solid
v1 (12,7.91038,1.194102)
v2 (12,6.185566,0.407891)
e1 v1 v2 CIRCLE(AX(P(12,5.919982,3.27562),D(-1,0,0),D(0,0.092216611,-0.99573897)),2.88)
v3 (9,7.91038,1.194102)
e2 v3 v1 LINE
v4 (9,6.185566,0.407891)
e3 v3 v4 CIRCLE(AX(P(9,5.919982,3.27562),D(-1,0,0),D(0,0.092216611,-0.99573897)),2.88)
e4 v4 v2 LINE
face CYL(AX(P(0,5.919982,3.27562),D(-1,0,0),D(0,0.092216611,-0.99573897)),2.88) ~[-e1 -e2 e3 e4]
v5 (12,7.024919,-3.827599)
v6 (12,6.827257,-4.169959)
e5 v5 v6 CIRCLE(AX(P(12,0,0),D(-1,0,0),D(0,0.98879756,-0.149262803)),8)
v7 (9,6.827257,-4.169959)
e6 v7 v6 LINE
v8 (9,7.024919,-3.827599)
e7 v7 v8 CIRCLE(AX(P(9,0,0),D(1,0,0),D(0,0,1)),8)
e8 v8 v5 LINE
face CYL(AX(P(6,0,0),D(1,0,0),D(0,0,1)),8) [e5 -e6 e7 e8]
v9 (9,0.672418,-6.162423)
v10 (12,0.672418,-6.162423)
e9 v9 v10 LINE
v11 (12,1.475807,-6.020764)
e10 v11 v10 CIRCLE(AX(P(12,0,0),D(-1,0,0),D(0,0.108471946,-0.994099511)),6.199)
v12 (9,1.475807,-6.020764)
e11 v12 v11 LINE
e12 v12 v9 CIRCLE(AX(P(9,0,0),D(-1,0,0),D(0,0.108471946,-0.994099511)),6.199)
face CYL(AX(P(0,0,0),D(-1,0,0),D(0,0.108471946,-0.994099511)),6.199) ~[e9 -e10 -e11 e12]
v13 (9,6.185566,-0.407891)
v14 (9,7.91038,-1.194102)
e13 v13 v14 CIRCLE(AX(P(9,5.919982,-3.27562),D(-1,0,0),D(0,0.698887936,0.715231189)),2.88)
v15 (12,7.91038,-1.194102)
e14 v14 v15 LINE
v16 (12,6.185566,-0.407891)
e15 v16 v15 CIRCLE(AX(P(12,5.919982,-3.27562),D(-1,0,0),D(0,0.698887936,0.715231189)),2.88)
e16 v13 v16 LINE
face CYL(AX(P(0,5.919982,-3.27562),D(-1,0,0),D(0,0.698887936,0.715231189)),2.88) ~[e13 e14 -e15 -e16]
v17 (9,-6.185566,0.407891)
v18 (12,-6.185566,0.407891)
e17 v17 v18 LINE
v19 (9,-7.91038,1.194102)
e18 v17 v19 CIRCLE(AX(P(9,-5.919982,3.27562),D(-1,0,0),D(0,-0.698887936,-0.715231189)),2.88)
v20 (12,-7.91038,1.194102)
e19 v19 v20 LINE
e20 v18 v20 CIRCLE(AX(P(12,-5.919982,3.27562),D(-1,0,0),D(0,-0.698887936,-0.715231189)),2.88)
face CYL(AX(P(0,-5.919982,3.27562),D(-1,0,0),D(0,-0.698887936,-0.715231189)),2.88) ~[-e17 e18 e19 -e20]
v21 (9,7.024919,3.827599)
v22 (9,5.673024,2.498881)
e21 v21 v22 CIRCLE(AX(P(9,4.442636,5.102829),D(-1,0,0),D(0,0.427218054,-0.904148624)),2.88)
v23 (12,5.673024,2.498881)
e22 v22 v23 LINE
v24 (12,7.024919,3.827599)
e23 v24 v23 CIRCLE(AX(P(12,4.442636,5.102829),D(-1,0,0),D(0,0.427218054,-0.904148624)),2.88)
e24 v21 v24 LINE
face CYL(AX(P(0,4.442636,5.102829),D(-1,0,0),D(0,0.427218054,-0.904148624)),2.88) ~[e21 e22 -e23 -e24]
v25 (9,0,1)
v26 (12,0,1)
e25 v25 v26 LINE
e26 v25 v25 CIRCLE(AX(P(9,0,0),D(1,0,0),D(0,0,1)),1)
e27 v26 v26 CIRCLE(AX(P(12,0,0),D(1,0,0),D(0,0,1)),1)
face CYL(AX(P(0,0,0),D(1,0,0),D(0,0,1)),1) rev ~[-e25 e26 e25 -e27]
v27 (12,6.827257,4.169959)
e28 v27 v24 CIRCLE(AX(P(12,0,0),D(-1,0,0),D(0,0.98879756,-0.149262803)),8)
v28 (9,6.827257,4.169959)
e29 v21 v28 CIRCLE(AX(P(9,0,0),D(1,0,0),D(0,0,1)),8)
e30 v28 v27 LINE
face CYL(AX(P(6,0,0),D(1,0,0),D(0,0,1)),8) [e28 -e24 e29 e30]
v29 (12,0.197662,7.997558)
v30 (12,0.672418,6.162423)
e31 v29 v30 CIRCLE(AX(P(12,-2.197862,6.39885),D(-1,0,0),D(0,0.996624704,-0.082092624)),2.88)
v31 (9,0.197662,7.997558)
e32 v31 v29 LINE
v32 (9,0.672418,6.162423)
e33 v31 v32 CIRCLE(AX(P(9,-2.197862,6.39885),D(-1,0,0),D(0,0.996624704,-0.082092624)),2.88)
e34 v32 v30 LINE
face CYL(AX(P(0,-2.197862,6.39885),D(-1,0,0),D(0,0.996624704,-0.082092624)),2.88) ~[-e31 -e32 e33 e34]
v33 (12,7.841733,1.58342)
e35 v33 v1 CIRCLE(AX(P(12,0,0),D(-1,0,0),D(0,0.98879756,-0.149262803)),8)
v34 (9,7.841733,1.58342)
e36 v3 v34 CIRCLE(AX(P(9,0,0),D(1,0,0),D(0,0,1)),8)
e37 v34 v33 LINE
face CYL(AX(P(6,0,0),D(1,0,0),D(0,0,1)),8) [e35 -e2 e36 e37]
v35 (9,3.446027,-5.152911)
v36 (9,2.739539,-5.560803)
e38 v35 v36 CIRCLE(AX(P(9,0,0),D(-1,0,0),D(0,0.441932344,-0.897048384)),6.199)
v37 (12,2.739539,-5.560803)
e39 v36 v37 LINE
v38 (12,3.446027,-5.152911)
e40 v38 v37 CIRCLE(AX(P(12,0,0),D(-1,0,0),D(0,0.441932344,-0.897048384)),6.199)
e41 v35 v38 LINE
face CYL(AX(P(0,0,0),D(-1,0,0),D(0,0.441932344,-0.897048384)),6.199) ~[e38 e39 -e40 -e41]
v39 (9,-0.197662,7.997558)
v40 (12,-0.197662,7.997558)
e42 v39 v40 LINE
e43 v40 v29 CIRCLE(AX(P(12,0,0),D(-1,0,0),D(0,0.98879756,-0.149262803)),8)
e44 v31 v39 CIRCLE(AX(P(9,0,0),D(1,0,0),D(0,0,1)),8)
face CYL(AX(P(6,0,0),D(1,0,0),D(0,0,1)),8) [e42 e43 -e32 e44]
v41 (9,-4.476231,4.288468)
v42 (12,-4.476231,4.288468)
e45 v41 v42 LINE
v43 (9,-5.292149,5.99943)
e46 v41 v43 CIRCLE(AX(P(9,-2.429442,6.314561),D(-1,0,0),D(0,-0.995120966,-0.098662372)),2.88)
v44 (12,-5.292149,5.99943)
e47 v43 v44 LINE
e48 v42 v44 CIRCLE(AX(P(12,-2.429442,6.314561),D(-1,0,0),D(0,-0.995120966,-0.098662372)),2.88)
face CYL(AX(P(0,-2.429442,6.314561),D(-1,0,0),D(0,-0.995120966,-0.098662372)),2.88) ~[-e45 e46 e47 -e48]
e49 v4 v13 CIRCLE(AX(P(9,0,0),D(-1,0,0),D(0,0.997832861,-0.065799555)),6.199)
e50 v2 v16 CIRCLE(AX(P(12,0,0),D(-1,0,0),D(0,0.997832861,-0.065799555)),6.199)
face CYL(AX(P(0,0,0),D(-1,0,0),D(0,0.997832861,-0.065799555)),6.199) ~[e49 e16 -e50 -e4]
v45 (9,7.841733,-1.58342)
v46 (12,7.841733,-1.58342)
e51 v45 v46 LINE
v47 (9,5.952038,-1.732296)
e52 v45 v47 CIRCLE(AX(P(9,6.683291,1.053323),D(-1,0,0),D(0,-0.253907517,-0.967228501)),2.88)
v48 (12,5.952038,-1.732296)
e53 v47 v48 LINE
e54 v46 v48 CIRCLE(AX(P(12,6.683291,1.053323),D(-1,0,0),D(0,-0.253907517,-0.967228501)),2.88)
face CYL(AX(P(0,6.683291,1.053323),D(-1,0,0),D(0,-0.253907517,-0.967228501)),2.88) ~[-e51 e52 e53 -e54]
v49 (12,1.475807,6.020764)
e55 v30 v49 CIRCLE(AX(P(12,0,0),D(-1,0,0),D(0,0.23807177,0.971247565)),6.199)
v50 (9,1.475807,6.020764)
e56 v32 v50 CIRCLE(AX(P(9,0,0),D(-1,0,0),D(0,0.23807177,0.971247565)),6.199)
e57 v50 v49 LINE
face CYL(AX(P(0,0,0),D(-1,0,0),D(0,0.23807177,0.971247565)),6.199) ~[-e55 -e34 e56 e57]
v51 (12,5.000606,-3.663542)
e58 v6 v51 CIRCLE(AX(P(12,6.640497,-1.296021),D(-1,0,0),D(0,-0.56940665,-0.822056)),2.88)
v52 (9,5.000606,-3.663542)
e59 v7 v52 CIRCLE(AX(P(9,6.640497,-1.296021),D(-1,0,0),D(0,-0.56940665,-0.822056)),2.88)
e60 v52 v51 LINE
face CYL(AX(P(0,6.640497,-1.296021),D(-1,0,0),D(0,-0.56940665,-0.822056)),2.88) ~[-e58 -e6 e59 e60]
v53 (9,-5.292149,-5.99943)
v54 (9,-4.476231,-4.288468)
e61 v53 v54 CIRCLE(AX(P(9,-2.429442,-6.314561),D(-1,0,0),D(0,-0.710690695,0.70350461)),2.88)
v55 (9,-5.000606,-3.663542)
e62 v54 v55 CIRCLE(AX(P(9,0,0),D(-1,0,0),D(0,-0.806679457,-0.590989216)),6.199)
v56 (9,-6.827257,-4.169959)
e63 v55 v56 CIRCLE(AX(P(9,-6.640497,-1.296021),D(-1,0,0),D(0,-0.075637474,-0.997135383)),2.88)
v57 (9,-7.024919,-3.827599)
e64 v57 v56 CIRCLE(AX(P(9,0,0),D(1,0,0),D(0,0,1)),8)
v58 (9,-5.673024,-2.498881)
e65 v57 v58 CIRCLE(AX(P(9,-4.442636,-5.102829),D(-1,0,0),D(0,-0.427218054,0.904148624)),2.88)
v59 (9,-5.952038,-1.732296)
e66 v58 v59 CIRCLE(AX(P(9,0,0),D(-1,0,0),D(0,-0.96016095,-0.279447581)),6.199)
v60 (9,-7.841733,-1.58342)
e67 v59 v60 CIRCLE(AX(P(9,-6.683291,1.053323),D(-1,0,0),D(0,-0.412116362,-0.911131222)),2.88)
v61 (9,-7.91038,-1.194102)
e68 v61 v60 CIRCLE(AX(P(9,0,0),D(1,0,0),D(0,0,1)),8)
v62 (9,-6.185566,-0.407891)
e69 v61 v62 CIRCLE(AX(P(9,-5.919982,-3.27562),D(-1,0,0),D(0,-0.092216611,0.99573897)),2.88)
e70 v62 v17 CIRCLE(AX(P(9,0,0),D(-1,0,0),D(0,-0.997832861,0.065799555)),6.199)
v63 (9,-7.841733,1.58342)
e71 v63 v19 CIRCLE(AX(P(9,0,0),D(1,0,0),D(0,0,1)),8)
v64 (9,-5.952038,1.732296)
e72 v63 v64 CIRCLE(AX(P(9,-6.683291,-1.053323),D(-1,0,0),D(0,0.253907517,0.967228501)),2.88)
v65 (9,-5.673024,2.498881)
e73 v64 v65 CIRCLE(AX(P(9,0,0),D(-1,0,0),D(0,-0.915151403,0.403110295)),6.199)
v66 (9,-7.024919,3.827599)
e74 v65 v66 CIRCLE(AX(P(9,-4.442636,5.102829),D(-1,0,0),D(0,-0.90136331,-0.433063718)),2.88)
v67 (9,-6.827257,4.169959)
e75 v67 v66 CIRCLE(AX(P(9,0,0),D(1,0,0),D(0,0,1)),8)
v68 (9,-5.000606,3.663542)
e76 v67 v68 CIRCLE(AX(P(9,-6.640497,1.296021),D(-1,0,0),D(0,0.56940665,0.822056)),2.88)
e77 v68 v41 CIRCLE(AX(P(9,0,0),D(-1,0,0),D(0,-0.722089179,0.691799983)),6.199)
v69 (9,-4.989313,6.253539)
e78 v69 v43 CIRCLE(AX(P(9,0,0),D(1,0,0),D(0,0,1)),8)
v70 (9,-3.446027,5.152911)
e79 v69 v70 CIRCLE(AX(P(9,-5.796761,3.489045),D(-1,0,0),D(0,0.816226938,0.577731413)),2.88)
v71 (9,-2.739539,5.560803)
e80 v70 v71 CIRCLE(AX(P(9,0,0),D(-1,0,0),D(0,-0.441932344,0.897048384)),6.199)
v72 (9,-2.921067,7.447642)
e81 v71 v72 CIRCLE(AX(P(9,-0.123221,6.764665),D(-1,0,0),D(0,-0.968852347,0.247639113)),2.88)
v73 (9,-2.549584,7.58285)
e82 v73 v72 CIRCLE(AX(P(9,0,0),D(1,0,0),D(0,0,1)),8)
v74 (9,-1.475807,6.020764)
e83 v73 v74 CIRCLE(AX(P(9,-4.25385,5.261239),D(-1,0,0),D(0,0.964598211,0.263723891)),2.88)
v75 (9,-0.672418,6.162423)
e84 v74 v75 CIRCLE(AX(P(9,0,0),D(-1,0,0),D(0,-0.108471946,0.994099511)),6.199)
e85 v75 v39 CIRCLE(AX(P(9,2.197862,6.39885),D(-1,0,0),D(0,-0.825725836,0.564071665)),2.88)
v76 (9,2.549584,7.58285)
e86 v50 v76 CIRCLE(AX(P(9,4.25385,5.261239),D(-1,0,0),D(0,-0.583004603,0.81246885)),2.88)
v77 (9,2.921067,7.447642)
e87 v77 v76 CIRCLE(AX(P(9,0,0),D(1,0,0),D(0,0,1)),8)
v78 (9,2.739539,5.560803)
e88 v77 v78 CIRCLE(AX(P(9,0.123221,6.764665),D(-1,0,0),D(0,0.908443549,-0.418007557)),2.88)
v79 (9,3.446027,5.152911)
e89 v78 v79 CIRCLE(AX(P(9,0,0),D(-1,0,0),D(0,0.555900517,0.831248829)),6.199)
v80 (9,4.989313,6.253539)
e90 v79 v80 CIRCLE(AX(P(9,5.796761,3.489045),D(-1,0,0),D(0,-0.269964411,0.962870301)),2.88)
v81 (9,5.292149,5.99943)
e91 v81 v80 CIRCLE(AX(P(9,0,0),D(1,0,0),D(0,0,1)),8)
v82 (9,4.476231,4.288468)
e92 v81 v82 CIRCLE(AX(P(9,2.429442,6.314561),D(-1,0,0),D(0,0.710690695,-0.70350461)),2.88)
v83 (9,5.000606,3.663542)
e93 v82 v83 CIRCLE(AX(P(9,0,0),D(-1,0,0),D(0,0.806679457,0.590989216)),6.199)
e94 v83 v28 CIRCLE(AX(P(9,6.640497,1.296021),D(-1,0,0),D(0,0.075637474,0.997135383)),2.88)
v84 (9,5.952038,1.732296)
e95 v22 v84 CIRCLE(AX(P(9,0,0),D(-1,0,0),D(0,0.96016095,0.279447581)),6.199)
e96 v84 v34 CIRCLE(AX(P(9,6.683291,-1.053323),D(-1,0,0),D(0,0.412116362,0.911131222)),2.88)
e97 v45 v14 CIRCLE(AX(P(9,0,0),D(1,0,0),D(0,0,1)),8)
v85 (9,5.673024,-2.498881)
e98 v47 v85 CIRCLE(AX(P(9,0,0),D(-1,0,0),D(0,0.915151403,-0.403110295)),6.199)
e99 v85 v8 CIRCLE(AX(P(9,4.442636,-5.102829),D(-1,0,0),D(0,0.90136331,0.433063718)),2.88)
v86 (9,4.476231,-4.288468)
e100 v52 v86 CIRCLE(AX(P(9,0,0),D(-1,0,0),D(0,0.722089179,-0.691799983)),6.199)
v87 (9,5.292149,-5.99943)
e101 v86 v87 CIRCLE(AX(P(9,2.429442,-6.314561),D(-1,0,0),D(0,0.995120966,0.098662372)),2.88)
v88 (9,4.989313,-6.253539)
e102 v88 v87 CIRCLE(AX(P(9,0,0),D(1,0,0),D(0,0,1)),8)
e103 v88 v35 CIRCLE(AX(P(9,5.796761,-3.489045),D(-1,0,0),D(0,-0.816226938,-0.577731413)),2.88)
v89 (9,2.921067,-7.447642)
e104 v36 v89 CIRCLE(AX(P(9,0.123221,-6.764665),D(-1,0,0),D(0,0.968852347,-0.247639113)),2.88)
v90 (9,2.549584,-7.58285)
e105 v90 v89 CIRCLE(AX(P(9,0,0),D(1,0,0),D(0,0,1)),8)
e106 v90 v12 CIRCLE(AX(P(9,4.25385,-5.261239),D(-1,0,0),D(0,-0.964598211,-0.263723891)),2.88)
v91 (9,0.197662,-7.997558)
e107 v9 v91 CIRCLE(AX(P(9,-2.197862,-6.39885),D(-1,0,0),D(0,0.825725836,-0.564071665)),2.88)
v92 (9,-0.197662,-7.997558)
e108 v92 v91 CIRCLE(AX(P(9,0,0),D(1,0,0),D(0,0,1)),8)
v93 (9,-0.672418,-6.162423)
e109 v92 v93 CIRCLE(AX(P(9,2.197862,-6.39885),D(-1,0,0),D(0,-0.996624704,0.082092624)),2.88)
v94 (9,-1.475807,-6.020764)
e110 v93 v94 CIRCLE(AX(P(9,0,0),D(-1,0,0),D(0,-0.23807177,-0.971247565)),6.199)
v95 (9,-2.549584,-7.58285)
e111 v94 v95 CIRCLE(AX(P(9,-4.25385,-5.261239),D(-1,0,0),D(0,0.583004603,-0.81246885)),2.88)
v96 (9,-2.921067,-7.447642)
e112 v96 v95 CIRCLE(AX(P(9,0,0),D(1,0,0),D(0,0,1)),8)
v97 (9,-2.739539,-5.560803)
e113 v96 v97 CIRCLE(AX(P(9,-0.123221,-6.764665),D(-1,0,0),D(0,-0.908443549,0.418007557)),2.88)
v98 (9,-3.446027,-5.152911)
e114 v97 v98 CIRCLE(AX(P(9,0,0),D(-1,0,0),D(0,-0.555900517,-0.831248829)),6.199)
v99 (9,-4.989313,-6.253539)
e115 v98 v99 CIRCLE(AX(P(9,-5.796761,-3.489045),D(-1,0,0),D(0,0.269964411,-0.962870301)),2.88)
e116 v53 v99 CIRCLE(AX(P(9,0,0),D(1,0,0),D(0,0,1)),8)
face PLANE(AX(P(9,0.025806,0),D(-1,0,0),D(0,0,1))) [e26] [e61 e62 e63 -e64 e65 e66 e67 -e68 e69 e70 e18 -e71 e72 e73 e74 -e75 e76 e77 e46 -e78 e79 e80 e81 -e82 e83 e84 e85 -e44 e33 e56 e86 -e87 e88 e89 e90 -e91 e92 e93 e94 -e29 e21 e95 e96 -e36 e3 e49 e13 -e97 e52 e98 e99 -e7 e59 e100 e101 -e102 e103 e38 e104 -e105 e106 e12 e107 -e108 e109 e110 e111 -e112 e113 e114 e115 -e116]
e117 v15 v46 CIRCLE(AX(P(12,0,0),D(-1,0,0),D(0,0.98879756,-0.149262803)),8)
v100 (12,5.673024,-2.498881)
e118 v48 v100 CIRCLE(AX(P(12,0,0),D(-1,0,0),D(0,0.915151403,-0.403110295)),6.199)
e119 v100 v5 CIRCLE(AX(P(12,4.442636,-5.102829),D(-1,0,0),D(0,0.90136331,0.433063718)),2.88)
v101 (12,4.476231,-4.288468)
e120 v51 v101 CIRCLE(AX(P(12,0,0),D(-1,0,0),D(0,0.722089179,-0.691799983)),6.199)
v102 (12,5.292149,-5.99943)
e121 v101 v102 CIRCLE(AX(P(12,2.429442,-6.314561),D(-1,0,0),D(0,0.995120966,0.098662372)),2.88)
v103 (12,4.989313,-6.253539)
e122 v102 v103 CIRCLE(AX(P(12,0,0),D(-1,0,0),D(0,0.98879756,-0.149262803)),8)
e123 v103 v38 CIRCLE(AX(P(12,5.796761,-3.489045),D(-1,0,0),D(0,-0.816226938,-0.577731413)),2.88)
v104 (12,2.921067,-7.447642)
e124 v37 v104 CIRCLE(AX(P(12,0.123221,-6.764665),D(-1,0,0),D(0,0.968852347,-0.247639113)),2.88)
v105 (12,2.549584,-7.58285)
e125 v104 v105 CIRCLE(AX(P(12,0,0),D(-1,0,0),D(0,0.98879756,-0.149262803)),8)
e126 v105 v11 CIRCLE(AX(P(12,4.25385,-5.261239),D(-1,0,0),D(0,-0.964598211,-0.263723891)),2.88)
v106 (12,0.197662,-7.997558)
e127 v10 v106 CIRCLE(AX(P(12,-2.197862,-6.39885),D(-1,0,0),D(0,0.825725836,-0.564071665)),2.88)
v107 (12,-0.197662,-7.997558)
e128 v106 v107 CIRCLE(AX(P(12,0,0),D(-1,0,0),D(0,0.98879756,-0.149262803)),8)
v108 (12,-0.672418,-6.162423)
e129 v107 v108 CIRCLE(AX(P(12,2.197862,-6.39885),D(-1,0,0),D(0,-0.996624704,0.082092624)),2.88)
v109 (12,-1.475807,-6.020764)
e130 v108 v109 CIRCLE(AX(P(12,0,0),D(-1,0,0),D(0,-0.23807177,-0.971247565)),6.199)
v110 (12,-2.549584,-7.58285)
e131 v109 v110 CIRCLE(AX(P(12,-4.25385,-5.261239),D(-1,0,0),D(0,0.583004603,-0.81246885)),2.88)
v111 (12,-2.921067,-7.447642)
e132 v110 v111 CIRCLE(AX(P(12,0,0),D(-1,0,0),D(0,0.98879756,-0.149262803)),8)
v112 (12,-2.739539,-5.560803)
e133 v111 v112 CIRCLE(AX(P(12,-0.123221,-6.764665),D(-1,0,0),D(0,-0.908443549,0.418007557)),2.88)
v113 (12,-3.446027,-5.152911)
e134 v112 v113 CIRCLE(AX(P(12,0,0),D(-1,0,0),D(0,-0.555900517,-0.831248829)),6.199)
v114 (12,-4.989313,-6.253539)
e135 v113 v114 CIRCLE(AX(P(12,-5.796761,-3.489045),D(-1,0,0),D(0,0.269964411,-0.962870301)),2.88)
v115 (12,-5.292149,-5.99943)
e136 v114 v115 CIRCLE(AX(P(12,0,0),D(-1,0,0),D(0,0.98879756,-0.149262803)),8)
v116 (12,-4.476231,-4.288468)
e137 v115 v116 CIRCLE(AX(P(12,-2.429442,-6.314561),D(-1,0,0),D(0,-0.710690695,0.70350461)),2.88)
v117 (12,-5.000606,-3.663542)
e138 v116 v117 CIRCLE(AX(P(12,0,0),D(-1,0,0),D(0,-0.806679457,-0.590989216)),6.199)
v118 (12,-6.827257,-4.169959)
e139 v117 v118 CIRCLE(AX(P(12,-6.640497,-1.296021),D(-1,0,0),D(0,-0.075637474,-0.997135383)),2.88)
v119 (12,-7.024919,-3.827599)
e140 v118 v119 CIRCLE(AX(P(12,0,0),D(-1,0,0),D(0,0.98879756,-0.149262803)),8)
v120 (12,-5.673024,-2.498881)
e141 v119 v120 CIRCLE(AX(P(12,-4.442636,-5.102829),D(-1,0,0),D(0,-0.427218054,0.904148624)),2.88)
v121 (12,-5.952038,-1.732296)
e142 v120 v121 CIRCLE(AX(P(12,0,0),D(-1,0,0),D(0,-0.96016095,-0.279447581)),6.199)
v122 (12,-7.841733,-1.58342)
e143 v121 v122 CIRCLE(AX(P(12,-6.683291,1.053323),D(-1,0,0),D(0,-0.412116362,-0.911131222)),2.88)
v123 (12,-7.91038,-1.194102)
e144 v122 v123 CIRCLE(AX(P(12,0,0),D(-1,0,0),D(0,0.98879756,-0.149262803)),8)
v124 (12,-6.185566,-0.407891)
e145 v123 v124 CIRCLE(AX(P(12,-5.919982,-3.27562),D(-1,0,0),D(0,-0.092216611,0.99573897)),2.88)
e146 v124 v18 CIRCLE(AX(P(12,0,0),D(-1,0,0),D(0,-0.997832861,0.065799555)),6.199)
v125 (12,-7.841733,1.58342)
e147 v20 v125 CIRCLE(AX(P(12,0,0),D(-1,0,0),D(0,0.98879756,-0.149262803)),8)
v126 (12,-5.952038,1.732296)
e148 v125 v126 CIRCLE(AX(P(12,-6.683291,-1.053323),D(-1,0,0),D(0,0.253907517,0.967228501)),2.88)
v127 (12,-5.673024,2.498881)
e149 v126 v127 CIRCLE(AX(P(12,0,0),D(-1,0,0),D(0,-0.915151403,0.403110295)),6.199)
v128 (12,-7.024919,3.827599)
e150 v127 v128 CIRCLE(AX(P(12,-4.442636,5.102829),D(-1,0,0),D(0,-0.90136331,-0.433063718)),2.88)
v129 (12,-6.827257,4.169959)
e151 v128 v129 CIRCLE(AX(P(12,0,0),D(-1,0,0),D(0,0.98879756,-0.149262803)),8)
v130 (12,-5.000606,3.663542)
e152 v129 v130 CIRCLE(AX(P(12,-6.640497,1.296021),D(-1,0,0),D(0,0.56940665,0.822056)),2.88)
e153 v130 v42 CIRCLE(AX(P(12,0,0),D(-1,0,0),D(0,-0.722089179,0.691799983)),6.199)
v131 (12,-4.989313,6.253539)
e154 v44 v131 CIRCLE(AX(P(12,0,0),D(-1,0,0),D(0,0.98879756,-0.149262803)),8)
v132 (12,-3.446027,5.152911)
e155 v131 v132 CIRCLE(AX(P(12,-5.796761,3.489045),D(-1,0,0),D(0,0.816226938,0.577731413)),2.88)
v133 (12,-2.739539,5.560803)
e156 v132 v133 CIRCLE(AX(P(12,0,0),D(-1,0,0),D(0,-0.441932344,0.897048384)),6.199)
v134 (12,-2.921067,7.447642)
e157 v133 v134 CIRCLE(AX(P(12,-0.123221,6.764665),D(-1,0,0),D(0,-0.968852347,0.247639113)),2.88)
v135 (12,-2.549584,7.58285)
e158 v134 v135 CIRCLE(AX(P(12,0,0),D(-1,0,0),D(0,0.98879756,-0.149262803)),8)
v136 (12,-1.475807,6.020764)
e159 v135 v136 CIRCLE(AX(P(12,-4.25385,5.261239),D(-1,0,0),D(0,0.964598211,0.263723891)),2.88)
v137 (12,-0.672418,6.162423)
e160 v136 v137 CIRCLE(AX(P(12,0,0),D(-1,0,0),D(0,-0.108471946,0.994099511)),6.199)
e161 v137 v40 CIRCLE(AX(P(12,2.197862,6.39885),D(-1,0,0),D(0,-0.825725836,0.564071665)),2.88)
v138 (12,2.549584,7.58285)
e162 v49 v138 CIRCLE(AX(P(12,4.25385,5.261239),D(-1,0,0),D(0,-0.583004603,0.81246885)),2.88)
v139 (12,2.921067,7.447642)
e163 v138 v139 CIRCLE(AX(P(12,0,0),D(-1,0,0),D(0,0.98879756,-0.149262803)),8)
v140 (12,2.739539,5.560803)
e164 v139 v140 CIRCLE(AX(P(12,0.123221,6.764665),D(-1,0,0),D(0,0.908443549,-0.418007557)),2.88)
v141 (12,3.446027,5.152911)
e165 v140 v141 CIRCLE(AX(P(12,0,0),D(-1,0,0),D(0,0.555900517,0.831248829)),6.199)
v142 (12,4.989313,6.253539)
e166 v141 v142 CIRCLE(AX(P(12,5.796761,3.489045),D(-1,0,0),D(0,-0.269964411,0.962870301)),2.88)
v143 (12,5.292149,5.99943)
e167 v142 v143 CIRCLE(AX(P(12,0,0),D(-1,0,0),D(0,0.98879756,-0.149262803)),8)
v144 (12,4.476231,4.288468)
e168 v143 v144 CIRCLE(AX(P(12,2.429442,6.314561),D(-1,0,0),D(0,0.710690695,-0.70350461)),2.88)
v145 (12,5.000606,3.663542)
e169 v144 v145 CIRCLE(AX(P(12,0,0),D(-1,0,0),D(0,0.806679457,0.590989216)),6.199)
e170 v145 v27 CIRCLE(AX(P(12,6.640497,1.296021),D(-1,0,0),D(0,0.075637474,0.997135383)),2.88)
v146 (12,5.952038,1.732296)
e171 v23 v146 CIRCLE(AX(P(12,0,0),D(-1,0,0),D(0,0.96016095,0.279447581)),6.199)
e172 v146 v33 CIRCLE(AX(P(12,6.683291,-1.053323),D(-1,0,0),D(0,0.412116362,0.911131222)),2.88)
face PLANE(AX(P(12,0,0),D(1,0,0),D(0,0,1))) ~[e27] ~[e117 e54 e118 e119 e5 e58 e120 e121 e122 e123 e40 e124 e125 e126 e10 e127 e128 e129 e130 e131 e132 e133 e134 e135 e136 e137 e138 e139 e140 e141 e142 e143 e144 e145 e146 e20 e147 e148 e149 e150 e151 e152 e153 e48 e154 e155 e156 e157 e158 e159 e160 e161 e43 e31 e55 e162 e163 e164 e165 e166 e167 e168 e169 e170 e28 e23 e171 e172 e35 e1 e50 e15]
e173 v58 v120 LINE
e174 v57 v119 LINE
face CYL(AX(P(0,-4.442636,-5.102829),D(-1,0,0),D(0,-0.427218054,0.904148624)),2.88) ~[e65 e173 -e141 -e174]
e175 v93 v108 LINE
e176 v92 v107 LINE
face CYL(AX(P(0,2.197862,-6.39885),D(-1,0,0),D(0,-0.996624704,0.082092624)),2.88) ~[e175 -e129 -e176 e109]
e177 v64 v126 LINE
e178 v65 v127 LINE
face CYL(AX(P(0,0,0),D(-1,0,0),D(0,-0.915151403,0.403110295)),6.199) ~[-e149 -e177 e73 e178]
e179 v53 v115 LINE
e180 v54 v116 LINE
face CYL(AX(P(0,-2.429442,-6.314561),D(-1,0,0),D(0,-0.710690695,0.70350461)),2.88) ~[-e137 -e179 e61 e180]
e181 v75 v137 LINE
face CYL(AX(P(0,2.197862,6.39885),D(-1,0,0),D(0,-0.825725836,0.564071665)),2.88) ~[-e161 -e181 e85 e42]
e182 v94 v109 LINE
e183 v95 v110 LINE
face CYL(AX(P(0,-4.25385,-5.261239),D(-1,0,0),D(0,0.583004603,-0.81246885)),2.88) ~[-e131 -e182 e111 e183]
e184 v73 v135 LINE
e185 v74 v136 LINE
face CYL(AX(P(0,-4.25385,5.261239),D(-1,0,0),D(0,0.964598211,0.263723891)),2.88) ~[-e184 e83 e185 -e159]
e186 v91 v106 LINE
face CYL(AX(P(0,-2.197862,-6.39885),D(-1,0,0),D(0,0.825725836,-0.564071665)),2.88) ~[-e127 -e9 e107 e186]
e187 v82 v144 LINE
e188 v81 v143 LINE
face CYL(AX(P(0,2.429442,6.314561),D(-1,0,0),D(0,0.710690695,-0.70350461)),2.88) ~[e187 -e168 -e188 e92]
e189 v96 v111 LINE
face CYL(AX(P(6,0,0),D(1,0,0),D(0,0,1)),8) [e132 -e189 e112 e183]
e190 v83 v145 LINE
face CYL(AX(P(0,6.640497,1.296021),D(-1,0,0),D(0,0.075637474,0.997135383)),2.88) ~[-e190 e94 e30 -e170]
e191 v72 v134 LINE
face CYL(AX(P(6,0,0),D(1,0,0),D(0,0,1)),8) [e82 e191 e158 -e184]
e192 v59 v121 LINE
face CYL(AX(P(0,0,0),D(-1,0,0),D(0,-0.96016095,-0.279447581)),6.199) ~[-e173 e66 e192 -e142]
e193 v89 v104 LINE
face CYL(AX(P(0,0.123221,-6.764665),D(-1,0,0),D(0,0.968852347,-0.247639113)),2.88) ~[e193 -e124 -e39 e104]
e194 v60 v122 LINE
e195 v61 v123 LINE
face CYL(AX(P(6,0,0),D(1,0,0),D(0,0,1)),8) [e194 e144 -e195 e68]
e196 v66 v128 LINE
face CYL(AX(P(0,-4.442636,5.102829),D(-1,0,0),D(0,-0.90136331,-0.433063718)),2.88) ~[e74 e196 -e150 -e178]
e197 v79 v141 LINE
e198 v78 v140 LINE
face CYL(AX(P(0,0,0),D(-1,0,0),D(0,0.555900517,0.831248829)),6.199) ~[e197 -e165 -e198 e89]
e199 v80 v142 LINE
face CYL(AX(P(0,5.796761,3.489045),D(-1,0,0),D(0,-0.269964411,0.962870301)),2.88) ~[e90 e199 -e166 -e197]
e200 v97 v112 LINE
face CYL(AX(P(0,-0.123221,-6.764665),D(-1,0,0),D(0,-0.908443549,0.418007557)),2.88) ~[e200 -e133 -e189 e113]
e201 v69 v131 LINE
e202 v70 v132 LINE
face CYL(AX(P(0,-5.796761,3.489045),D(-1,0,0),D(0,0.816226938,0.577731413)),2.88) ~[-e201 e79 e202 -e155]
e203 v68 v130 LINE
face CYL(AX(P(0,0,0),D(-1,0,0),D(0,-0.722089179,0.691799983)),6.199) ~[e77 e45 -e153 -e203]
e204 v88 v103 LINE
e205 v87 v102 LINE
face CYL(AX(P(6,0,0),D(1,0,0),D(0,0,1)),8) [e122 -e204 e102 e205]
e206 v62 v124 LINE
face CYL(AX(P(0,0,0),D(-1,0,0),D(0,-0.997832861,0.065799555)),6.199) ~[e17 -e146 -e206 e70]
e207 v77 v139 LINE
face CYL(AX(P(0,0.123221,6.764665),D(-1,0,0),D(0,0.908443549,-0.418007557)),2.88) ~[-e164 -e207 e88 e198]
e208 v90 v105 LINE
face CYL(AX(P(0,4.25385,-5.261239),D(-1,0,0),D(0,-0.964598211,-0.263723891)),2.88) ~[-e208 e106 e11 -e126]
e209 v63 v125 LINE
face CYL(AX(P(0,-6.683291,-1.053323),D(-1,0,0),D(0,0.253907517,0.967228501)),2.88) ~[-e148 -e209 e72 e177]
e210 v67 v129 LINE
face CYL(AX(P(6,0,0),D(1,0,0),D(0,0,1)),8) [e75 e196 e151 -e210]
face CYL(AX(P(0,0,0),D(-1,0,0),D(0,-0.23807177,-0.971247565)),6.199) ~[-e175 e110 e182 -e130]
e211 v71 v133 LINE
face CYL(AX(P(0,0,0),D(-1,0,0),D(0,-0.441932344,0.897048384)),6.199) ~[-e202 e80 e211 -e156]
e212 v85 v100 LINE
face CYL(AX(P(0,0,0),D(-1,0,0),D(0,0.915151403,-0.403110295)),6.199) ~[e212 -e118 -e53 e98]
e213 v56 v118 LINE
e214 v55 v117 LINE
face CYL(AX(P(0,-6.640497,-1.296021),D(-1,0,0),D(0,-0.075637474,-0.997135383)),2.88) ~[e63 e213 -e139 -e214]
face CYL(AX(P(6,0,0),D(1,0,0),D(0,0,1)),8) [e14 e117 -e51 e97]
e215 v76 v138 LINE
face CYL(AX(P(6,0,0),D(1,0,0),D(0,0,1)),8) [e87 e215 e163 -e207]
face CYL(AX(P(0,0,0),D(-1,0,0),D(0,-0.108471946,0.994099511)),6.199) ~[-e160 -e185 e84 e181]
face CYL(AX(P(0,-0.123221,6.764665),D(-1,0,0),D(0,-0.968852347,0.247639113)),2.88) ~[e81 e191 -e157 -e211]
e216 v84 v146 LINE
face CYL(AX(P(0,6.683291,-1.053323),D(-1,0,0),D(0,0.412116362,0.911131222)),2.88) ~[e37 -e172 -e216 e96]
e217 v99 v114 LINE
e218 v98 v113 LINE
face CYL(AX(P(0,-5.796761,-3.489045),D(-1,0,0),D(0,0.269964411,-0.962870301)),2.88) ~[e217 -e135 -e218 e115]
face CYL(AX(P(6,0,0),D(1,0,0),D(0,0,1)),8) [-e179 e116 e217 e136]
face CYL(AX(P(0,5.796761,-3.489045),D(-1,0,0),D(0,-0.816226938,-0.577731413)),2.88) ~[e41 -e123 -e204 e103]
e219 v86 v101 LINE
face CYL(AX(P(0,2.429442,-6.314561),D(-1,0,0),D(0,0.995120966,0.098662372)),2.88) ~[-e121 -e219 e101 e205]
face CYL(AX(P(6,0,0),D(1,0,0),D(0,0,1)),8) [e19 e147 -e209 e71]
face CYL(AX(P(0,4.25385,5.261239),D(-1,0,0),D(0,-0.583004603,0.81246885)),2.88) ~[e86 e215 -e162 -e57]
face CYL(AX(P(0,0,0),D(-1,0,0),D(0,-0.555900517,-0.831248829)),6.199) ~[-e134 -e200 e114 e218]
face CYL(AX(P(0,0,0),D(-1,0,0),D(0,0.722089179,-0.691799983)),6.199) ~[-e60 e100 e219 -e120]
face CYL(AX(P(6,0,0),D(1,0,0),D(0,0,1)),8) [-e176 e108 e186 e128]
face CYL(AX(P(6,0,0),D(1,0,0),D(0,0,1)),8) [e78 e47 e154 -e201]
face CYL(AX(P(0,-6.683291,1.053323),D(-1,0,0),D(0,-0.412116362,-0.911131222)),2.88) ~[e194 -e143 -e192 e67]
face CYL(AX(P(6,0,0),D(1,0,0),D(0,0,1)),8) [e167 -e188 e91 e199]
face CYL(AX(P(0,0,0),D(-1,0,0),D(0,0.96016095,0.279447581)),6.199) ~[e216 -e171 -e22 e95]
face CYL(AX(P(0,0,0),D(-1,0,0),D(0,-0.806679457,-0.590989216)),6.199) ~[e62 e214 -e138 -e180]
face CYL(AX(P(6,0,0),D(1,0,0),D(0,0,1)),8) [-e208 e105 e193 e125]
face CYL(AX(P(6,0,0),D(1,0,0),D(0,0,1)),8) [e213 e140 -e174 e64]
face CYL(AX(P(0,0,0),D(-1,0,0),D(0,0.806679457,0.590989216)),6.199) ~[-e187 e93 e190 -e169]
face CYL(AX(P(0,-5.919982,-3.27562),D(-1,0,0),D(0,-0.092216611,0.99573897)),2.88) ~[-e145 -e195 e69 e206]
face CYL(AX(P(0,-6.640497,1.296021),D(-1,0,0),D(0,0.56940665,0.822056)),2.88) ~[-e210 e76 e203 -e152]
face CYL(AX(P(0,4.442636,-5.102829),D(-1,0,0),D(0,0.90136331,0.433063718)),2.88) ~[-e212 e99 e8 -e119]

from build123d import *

# Parameters (mm, degrees)
BASPROSKE_W           = 12
BASPROSKE_H           = 8
TOOTHCUT_DEPTH        = 17.492422502
TEETHCUTS_COUNT       = 18
TEETHCUTS_ANGLE       = 340
BORSKE_R              = 1
BORE_DEPTH            = 50.0000508
CROQUIS1_W            = 17.780608964
CROQUIS1_H            = 17.85802816
CORTAR_EXTRUIR1_DEPTH = 9


with BuildPart() as part:
    # BasProSke → Base-Revolve (revolve)
    with BuildSketch(Plane(origin=(0, 0, 0), x_dir=(1, 0, 0), z_dir=(0, 1, 0)), mode=Mode.PRIVATE) as base_revolve_sk:
        with Locations((6, 4)):
            Rectangle(BASPROSKE_W, BASPROSKE_H)
    revolve(base_revolve_sk.sketch.rotate(Axis((-10, 0, 0), (1, 0, 0)), 180), axis=Axis((-10, 0, 0), (1, 0, 0)))

    # TooCutSke → ToothCut (cut, through all)
    with BuildSketch(Plane(origin=(0, 0, 0), x_dir=(0, 0, -1), z_dir=(1, 0, 0))):
        with BuildLine():
            ThreePointArc((0.407891456, 6.185565905), (0, 6.199), (-0.407891456, 6.185565905))
            ThreePointArc((-0.407891456, 6.185565905), (-0.661526256, 7.128665447), (-1.215753865, 7.932779317))
            ThreePointArc((-1.215753865, 7.932779317), (0, 8.0254), (1.215753865, 7.932779317))
            ThreePointArc((1.215753865, 7.932779317), (0.661526256, 7.128665447), (0.407891456, 6.185565905))
        make_face()
    toothcut = extrude(amount=TOOTHCUT_DEPTH, mode=Mode.SUBTRACT)

    # TeethCuts: ToothCut ×18 about axis
    teethcuts_axis = Axis((-10, 0, 0), (1, 0, 0))
    for i in range(1, TEETHCUTS_COUNT):
        add(toothcut.rotate(teethcuts_axis, i * TEETHCUTS_ANGLE / (TEETHCUTS_COUNT - 1)), mode=Mode.SUBTRACT)

    # BorSke → Bore (cut, symmetric)
    with BuildSketch(Plane(origin=(0, 0, 0), x_dir=(0, 0, -1), z_dir=(1, 0, 0))):
        with Locations(Location((0, 0, 0), (0, 0, 180))):
            Circle(BORSKE_R)
    extrude(amount=BORE_DEPTH, both=True, mode=Mode.SUBTRACT)

    # Croquis1 → Cortar-Extruir1 (cut)
    with BuildSketch(Plane.ZY):
        with Locations((0, 0.025806399)):
            Rectangle(CROQUIS1_W, CROQUIS1_H)
    extrude(amount=-CORTAR_EXTRUIR1_DEPTH, mode=Mode.SUBTRACT)


solid = part.part
